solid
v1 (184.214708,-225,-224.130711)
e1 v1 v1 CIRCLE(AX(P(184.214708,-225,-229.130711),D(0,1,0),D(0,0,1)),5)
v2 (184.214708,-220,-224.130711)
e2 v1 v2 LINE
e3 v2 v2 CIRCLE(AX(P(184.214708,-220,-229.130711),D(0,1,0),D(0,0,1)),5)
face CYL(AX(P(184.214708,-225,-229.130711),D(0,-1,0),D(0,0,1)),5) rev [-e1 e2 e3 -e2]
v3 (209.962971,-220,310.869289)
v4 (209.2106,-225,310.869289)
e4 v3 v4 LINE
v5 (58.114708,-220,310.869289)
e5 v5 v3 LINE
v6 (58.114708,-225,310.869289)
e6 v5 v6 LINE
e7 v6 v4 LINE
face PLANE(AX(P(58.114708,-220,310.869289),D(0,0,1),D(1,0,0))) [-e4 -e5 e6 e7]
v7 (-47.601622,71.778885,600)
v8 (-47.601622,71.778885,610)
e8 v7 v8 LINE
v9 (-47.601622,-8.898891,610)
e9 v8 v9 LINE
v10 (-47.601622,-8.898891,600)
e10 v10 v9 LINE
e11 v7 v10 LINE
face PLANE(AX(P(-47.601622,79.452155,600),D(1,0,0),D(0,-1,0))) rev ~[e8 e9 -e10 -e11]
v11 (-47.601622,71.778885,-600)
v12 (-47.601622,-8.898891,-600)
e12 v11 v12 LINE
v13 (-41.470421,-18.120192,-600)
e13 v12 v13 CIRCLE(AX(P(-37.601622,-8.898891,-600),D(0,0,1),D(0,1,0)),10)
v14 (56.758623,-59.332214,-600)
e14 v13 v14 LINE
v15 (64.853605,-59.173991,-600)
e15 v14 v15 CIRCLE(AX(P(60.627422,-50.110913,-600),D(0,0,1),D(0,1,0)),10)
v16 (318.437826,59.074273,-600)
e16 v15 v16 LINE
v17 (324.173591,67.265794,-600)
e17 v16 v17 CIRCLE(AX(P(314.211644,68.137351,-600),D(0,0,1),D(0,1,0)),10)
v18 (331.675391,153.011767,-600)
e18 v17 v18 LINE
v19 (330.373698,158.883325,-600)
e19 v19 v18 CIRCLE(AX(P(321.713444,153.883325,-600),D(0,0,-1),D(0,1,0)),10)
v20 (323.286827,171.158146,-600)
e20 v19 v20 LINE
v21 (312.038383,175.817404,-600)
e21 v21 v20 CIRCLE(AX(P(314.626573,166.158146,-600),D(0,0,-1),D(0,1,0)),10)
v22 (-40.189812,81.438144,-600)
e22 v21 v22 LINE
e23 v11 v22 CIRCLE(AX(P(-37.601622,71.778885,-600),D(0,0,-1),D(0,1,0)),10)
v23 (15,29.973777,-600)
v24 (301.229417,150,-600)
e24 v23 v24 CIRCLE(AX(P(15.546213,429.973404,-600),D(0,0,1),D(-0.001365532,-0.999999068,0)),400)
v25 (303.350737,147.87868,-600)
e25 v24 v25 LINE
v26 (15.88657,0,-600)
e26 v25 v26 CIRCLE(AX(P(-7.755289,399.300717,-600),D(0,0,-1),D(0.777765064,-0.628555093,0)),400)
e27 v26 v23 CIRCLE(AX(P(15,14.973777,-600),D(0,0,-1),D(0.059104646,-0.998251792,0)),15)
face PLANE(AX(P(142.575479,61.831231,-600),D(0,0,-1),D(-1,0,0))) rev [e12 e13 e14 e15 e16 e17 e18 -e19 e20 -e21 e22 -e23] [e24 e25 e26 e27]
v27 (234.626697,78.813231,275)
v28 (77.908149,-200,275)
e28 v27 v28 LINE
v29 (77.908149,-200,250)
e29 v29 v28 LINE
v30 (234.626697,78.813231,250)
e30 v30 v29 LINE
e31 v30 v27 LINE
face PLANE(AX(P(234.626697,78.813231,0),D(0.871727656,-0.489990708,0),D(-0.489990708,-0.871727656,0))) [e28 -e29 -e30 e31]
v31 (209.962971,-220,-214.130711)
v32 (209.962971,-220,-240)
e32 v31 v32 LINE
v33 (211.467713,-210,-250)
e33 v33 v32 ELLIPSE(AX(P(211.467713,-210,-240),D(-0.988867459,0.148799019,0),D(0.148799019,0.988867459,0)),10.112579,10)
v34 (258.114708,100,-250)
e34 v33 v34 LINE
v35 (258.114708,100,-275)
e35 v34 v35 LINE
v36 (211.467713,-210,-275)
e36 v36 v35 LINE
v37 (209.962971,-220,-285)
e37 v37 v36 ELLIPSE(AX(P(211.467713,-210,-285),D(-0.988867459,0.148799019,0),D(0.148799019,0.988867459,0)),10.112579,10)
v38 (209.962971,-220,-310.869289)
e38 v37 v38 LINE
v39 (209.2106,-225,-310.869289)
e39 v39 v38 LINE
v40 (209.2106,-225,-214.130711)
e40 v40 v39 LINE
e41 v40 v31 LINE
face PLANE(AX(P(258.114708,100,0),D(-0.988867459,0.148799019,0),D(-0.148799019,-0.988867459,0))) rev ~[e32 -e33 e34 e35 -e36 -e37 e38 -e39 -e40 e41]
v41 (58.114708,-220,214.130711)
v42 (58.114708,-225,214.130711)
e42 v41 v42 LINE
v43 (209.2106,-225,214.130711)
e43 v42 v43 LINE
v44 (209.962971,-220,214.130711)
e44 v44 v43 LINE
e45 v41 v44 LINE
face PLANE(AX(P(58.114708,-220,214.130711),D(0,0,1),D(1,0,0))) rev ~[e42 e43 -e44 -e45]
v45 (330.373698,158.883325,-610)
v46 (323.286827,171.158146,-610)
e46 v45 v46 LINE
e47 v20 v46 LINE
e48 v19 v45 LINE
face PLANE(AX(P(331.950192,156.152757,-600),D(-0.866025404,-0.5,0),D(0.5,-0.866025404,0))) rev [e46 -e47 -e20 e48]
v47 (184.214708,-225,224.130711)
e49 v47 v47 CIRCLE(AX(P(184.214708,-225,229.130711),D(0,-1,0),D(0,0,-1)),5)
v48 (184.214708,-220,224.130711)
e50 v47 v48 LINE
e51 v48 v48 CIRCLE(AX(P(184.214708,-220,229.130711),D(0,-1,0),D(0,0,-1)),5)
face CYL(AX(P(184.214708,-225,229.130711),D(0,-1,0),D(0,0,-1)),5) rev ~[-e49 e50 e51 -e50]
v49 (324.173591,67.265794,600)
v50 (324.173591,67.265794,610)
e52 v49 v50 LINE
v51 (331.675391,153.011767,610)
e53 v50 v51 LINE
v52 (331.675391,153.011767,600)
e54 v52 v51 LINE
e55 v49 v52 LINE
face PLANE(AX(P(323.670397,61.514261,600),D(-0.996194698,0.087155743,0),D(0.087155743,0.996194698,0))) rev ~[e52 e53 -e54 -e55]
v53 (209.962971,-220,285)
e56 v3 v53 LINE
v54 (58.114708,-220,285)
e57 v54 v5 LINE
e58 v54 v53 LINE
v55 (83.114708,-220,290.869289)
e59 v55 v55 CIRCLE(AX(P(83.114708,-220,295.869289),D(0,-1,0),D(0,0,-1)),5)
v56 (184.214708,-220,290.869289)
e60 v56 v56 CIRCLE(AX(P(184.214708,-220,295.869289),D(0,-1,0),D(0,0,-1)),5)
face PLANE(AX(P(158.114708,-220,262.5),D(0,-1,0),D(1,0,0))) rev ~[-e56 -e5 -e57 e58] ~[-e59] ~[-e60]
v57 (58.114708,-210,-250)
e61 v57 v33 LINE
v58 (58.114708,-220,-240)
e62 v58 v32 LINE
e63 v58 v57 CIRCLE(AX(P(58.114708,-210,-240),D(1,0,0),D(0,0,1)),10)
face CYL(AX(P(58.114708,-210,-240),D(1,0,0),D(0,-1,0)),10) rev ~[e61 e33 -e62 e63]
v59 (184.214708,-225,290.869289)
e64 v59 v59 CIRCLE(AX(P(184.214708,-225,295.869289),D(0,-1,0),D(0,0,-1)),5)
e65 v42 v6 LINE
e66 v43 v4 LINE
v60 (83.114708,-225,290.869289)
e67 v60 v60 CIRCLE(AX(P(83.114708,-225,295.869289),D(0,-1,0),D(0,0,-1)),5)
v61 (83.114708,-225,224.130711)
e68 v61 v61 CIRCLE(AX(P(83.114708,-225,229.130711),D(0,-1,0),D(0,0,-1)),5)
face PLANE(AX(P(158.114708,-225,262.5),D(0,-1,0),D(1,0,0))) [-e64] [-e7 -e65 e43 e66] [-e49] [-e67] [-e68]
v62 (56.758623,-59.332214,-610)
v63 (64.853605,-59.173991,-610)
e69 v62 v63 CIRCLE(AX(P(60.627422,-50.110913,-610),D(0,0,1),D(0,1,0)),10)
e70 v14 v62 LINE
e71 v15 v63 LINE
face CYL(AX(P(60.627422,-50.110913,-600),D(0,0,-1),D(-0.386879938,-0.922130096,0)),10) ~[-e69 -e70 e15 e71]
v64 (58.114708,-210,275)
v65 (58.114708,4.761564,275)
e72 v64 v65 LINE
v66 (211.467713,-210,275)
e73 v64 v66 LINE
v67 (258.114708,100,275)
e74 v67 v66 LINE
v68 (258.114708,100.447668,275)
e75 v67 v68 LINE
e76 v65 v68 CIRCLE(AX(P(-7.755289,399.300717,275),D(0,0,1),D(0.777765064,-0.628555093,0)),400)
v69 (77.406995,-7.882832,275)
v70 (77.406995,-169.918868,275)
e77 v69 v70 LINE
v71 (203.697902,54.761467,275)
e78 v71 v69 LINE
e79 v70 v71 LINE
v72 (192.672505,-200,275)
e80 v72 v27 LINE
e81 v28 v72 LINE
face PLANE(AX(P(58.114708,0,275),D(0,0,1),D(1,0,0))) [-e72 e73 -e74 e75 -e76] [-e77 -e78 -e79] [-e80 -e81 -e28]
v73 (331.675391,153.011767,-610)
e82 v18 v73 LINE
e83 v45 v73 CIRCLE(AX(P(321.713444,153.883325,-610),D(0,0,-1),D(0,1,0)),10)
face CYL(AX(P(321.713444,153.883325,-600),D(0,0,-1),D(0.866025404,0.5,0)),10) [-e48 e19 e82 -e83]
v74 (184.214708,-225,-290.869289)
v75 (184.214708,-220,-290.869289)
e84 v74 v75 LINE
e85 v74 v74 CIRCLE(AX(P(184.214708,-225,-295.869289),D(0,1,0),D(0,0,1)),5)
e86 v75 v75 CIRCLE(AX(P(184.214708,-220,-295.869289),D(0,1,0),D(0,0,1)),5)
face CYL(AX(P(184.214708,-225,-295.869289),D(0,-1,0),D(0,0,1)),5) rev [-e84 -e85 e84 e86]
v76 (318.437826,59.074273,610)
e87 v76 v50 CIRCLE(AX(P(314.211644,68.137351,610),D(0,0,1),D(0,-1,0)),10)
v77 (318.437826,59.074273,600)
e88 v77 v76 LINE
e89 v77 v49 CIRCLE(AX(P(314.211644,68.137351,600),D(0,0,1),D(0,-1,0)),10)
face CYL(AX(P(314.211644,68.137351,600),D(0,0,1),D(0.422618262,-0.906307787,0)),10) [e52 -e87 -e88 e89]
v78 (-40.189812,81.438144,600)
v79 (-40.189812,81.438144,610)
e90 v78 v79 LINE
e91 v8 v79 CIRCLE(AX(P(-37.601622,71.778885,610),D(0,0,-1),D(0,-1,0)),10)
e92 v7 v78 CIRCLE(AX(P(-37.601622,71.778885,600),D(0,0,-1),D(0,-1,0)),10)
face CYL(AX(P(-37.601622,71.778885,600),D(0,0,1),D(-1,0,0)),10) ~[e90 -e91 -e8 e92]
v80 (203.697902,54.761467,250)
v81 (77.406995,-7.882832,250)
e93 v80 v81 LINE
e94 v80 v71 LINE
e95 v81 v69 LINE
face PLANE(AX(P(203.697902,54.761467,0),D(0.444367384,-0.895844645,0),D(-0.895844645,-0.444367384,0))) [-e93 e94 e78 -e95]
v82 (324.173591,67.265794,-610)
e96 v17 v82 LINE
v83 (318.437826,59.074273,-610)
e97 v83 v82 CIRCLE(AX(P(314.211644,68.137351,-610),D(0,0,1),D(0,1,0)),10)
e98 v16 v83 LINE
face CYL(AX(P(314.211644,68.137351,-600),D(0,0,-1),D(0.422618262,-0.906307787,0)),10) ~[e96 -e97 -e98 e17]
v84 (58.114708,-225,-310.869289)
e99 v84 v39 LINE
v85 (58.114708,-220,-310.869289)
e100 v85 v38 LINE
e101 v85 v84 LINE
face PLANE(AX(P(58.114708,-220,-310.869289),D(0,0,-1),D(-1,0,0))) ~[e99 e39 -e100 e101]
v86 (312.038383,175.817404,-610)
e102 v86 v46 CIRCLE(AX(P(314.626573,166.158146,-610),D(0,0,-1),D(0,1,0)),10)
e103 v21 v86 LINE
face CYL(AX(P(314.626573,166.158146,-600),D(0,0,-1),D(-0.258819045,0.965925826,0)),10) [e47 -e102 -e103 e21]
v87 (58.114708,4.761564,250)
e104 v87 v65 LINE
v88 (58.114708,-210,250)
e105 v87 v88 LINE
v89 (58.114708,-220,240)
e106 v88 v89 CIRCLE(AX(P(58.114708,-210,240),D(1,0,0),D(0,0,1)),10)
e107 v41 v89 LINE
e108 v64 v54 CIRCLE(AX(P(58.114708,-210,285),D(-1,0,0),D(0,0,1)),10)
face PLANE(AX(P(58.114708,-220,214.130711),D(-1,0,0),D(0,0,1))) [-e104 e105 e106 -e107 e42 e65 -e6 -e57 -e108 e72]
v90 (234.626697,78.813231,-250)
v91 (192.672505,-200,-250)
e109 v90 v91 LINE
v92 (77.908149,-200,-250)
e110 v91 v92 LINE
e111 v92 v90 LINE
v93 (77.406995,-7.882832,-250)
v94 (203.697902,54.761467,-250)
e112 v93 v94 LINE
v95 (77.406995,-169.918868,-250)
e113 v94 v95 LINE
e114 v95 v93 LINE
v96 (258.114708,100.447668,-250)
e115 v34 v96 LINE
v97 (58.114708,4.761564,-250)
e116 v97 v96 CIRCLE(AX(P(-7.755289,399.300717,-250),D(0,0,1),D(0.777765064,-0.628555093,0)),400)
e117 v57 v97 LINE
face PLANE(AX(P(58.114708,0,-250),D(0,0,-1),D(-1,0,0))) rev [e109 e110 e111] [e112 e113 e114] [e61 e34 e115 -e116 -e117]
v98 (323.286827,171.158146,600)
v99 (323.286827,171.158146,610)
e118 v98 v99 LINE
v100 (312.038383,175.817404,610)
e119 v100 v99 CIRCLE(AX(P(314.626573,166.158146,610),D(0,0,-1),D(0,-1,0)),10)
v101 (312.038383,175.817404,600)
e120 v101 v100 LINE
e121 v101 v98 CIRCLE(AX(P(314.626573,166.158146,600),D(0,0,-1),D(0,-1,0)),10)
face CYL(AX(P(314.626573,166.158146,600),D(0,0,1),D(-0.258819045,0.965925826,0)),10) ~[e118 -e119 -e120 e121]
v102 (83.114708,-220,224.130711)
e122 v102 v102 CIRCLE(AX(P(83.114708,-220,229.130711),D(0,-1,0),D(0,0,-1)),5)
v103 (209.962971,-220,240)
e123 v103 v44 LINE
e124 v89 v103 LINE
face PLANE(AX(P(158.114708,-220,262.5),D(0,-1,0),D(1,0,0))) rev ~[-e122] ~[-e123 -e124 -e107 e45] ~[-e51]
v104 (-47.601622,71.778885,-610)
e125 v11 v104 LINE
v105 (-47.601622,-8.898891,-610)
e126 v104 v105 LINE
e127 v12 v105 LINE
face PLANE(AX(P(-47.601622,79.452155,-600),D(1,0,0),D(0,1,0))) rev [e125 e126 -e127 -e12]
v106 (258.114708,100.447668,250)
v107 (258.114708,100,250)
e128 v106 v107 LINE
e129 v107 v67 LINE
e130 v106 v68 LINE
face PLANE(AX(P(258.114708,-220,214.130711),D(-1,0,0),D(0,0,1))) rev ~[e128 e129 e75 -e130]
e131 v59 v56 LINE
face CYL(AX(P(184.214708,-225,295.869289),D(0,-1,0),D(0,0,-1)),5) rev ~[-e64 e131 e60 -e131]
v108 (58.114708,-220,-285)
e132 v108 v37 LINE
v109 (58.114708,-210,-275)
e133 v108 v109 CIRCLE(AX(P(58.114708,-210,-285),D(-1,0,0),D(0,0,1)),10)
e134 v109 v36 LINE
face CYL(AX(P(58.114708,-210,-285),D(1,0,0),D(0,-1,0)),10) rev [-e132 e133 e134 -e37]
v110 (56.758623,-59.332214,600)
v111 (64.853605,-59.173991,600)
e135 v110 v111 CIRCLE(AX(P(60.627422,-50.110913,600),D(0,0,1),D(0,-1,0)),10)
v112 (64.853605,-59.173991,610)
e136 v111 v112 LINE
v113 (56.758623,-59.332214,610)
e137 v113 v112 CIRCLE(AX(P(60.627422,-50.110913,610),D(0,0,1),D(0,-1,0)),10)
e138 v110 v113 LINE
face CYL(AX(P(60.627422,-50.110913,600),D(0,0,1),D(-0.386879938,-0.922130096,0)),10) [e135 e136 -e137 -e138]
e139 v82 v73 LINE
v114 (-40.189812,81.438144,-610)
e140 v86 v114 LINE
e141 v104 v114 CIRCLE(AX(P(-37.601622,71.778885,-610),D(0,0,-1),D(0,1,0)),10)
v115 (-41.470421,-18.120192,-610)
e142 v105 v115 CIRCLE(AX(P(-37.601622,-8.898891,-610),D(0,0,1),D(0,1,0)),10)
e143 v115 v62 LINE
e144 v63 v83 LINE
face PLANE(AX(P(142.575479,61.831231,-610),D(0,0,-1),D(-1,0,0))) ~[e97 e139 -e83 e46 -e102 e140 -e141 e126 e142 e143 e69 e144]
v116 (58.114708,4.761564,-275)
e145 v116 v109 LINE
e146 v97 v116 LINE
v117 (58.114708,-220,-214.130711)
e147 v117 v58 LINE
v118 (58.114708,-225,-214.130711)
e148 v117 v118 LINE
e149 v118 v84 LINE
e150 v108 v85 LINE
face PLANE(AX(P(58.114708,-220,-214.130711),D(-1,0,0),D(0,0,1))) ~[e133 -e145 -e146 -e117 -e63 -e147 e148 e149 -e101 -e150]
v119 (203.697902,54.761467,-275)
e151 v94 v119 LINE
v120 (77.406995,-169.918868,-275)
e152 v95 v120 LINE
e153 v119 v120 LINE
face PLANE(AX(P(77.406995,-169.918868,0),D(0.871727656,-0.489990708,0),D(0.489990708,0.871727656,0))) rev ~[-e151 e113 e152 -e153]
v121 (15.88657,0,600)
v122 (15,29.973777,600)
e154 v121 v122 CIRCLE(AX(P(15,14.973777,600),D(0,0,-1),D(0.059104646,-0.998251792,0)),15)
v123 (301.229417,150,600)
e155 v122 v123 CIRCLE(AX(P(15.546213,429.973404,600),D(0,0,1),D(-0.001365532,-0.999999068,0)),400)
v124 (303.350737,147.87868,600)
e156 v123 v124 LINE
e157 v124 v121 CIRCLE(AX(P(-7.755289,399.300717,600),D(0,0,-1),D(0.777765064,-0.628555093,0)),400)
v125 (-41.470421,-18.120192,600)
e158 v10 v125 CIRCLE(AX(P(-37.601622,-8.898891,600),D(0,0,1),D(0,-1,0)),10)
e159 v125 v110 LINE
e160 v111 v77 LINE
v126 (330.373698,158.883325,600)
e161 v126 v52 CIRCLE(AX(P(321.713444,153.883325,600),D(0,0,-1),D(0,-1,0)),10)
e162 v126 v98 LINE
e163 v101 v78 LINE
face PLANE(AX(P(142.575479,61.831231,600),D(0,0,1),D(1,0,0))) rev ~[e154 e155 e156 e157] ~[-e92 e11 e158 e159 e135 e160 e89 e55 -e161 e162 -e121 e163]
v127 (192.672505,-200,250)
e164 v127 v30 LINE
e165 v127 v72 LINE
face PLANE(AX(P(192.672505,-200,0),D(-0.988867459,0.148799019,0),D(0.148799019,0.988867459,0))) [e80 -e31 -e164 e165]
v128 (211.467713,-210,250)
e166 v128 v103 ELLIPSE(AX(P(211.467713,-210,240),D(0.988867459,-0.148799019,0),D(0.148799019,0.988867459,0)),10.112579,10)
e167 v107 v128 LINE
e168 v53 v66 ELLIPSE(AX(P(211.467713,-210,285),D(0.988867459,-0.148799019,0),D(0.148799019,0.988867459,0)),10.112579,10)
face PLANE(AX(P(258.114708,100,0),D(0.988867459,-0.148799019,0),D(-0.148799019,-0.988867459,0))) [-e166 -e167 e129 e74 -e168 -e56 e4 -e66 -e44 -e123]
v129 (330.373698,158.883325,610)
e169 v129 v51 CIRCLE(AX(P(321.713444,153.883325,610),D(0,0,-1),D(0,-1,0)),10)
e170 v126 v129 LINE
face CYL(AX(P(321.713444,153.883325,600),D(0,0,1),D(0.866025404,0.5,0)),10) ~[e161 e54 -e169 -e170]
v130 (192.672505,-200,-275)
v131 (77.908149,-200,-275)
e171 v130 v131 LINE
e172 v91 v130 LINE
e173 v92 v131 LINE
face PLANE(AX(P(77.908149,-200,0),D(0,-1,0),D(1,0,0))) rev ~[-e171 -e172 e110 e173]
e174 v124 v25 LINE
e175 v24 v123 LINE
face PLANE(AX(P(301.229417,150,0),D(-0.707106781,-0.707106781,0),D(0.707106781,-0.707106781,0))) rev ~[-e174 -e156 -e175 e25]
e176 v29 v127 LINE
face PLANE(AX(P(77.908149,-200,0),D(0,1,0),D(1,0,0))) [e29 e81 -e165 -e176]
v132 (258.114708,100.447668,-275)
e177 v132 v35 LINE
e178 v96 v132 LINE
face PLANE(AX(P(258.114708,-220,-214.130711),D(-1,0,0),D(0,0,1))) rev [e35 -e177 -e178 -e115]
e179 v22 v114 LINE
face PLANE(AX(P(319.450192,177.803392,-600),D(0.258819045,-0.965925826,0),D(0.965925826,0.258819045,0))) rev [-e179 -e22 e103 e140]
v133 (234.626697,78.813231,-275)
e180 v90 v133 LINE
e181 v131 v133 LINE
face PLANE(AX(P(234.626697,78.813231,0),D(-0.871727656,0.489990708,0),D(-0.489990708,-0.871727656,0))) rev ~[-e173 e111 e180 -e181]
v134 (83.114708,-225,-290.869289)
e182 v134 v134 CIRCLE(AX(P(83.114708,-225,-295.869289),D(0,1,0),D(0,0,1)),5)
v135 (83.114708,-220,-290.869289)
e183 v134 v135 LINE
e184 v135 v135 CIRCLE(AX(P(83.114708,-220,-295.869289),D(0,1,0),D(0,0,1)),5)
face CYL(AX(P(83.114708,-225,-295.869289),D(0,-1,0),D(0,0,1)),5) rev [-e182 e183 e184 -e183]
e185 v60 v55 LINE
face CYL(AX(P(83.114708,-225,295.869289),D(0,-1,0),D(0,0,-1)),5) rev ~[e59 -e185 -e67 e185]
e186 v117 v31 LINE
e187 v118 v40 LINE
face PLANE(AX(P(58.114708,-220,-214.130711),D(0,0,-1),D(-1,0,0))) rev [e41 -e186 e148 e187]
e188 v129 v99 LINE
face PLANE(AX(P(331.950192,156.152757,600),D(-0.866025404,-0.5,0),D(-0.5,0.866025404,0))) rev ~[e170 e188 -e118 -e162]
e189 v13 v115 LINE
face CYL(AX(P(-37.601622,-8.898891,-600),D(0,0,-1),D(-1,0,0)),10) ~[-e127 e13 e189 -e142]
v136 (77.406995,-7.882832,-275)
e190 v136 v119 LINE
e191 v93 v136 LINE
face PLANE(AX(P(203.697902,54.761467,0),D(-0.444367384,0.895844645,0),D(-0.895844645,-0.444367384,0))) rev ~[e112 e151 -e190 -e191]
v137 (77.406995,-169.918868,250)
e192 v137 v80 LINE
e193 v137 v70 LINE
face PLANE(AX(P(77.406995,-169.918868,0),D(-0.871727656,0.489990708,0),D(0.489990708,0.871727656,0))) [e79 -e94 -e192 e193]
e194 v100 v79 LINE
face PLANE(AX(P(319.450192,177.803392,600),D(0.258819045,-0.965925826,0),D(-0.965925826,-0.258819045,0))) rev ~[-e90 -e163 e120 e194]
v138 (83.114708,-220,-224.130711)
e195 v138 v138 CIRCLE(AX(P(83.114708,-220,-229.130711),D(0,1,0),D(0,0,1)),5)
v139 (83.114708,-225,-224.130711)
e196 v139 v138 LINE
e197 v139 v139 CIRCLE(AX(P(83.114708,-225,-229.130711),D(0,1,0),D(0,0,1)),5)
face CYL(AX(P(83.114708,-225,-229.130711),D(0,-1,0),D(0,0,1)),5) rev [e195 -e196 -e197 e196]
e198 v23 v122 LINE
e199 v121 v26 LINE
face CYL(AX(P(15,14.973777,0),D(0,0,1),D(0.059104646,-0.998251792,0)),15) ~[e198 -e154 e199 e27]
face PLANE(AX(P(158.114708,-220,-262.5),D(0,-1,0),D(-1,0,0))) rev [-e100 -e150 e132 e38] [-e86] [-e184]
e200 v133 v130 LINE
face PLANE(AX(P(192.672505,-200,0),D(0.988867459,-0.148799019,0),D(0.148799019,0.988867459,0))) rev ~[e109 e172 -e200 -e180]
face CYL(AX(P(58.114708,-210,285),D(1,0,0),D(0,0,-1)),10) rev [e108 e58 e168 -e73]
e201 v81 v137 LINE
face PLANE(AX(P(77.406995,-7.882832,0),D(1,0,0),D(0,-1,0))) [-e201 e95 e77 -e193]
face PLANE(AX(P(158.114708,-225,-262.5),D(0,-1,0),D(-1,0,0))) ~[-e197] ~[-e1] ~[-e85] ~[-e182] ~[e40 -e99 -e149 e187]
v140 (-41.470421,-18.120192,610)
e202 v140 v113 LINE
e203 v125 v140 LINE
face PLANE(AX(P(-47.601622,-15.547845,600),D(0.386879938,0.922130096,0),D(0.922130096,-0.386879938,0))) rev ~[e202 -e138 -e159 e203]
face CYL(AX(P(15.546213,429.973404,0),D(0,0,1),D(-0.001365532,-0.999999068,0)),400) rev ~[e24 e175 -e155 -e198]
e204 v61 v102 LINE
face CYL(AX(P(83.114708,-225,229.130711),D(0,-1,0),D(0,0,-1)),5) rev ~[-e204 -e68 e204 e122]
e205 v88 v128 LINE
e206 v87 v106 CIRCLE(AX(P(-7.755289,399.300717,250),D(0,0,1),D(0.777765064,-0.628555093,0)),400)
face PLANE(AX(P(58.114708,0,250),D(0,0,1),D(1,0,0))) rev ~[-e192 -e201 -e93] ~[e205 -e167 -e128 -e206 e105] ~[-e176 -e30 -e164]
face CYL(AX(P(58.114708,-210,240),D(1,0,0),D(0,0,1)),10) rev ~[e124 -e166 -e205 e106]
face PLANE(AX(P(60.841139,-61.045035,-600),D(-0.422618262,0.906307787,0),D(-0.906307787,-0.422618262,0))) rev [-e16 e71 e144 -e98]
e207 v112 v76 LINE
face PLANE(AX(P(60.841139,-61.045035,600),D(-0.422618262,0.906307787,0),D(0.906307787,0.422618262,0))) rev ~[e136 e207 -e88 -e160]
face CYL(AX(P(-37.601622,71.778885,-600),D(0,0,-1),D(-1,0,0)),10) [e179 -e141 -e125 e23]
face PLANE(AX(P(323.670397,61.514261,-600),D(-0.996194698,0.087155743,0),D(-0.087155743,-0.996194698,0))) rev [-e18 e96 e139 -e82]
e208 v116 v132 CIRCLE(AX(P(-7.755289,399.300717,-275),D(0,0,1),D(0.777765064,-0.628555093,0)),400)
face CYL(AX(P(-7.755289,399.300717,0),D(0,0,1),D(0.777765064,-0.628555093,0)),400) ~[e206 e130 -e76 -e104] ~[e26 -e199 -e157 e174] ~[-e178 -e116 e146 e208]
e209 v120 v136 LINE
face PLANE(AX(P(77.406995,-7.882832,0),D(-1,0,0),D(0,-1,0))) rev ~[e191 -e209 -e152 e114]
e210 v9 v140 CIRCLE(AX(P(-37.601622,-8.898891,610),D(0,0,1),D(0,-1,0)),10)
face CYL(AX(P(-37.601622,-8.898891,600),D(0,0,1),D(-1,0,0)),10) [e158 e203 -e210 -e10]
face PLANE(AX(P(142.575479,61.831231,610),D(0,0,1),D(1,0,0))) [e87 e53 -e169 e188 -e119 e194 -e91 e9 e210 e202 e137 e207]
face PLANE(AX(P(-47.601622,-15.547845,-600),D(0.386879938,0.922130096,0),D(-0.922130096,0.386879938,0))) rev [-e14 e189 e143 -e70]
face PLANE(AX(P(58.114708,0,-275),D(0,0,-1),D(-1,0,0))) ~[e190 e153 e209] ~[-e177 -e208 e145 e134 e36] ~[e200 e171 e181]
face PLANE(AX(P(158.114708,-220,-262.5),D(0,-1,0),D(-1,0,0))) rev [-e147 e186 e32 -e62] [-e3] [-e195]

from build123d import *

# Parameters (mm, degrees)
BOSS_EXTRUDE1_DEPTH             = 600
BOSS_EXTRUDE2_DEPTH             = 10
FILLET1_R                       = 10
FILLET1_OF_MIRROR2_R            = 10
BOSS_EXTRUDE3_REACH             = 718.356
SKETCH3_W                       = 200
SKETCH3_H                       = 25
BOSS_EXTRUDE3_DIRECTION_2_DEPTH = 220
SKETCH4_W                       = 200
SKETCH4_H                       = 96.738577366
BOSS_EXTRUDE4_DEPTH             = 5
FILLET3_R                       = 10
SKETCH5_R                       = 5
CUT_EXTRUDE1_DEPTH              = 5
CUT_EXTRUDE3_REACH              = 731.903
CUT_EXTRUDE3_DIRECTION_2_REACH  = 731.903


with BuildPart() as part:
    # Sketch1 → Boss-Extrude1 (new, symmetric)
    with BuildSketch(Plane.XY):
        with BuildLine():
            Line((301.229416671, 150), (303.350737014, 147.878679656))
            ThreePointArc((303.350737014, 147.878679656), (175.223022732, 43.605710521), (15.886569686, 0))
            ThreePointArc((15.886569686, 0), (0.006557212, 14.530298176), (15, 29.973776885))
            ThreePointArc((15, 29.973776885), (170.230890365, 61.093138188), (301.229416671, 150))
        make_face()
    extrude(amount=BOSS_EXTRUDE1_DEPTH, both=True)

    # Sketch2 → Boss-Extrude2 (add)
    with BuildSketch(Plane.XY.offset(600)):
        Polygon((-47.601621627, 79.452155227), (-47.601621627, -15.547844773), (60.841138561, -61.045034952), (323.670396802, 61.514260953), (331.950192363, 156.152757271), (319.450192363, 177.803392366), align=None)
    boss_extrude2 = extrude(amount=BOSS_EXTRUDE2_DEPTH)

    # Fillet1
    fillet1_edges = [part.edges().sort_by_distance(p)[0] for p in [
        (319.450192363, 177.803392366, 605),
        (-47.601621627, 79.452155227, 605),
        (-47.601621627, -15.547844773, 605),
        (60.841138561, -61.045034952, 605),
        (323.670396802, 61.514260953, 605),
        (331.950192363, 156.152757271, 605),
    ]]
    fillet(fillet1_edges, radius=FILLET1_R)

    # Mirror2: Boss-Extrude2 across plane
    add(boss_extrude2.mirror(Plane.XY))

    # Fillet1 of Mirror2
    fillet1_of_mirror2_edges = [part.edges().sort_by_distance(p)[0] for p in [
        (319.450192363, 177.803392366, -605),
        (-47.601621627, 79.452155227, -605),
        (-47.601621627, -15.547844773, -605),
        (60.841138561, -61.045034952, -605),
        (323.670396802, 61.514260953, -605),
        (331.950192363, 156.152757271, -605),
    ]]
    fillet(fillet1_of_mirror2_edges, radius=FILLET1_OF_MIRROR2_R)

    # Sketch3 → Boss-Extrude3 (add, up to next)
    with BuildSketch(Plane(origin=(0, 0, 0), x_dir=(1, 0, 0), z_dir=(0, 1, 0)), mode=Mode.PRIVATE) as boss_extrude3_sk1:
        with Locations((158.114708335, -262.5)):
            Rectangle(SKETCH3_W, SKETCH3_H)
    boss_extrude3_tool1 = extrude(boss_extrude3_sk1.sketch, amount=BOSS_EXTRUDE3_REACH, mode=Mode.PRIVATE) - part.part
    boss_extrude3 = boss_extrude3_tool1.solids().sort_by_distance((158.114708, 0, 262.5))[0]
    add(boss_extrude3)

    # Sketch3 → Boss-Extrude3 direction 2 (add)
    with BuildSketch(Plane(origin=(0, 0, 0), x_dir=(1, 0, 0), z_dir=(0, 1, 0))):
        with Locations((158.114708335, -262.5)):
            Rectangle(SKETCH3_W, SKETCH3_H)
    boss_extrude3_direction_2 = extrude(amount=-BOSS_EXTRUDE3_DIRECTION_2_DEPTH)

    # Mirror3: Boss-Extrude3, Boss-Extrude3 direction 2 across plane
    add(boss_extrude3.mirror(Plane.XY))
    add(boss_extrude3_direction_2.mirror(Plane.XY))

    # Sketch4 → Boss-Extrude4 (add)
    with BuildSketch(Plane.XZ.offset(220)):
        with Locations((158.114708335, 262.5)):
            Rectangle(SKETCH4_W, SKETCH4_H)
    boss_extrude4 = extrude(amount=BOSS_EXTRUDE4_DEPTH)

    # Mirror6: Boss-Extrude4 across plane
    add(boss_extrude4.mirror(Plane.XY))

    # Fillet3
    fillet3_edges = [part.edges().sort_by_distance(p)[0] for p in [
        (158.114708335, -220, 275),
        (158.114708335, -220, 250),
        (158.114708335, -220, -250),
        (158.114708335, -220, -275),
    ]]
    fillet(fillet3_edges, radius=FILLET3_R)

    # Sketch5 → Cut-Extrude1 (cut)
    with BuildSketch(Plane.XZ.offset(225)):
        with Locations(Location((83.114708335, 295.869288683, 0), (0, 0, 270))):
            Circle(SKETCH5_R)
        with Locations(Location((184.214708335, 295.869288683, 0), (0, 0, 270))):
            Circle(SKETCH5_R)
        with Locations(Location((184.214708335, 229.130711317, 0), (0, 0, 270))):
            Circle(SKETCH5_R)
        with Locations(Location((83.114708335, 229.130711317, 0), (0, 0, 270))):
            Circle(SKETCH5_R)
    cut_extrude1 = extrude(amount=-CUT_EXTRUDE1_DEPTH, mode=Mode.SUBTRACT)

    # Mirror7: Cut-Extrude1 across plane
    add(cut_extrude1.mirror(Plane.XY), mode=Mode.SUBTRACT)

    # Sketch8 → Cut-Extrude3 (cut, up to next)
    with BuildSketch(Plane.XY, mode=Mode.PRIVATE) as cut_extrude3_sk1:
        Polygon((258.114708335, 100), (209.210600029, -225), (258.114708335, -225), align=None)
    cut_extrude3_tool1 = extrude(cut_extrude3_sk1.sketch, amount=-CUT_EXTRUDE3_REACH, mode=Mode.PRIVATE) & part.part
    # Sketch8 → Cut-Extrude3 (cut, up to next)
    with BuildSketch(Plane.XY, mode=Mode.PRIVATE) as cut_extrude3_sk2:
        Polygon((192.672505063, -200), (234.626697196, 78.813230948), (77.908149081, -200), align=None)
    cut_extrude3_tool2 = extrude(cut_extrude3_sk2.sketch, amount=-CUT_EXTRUDE3_REACH, mode=Mode.PRIVATE) & part.part
    # Sketch8 → Cut-Extrude3 (cut, up to next)
    with BuildSketch(Plane.XY, mode=Mode.PRIVATE) as cut_extrude3_sk3:
        Polygon((77.406994689, -169.918867637), (203.697901707, 54.761466943), (77.406994689, -7.882832173), align=None)
    cut_extrude3_tool3 = extrude(cut_extrude3_sk3.sketch, amount=-CUT_EXTRUDE3_REACH, mode=Mode.PRIVATE) & part.part
    add(cut_extrude3_tool1.solids().sort_by_distance((241.813339, -116.666667, 0))[0], mode=Mode.SUBTRACT)
    add(cut_extrude3_tool2.solids().sort_by_distance((168.40245, -107.062256, 0))[0], mode=Mode.SUBTRACT)
    add(cut_extrude3_tool3.solids().sort_by_distance((119.503964, -41.013411, 0))[0], mode=Mode.SUBTRACT)

    # Sketch8 → Cut-Extrude3 direction 2 (cut, up to next)
    with BuildSketch(Plane.XY, mode=Mode.PRIVATE) as cut_extrude3_direction_2_sk1:
        Polygon((258.114708335, 100), (209.210600029, -225), (258.114708335, -225), align=None)
    cut_extrude3_direction_2_tool1 = extrude(cut_extrude3_direction_2_sk1.sketch, amount=CUT_EXTRUDE3_DIRECTION_2_REACH, mode=Mode.PRIVATE) & part.part
    # Sketch8 → Cut-Extrude3 direction 2 (cut, up to next)
    with BuildSketch(Plane.XY, mode=Mode.PRIVATE) as cut_extrude3_direction_2_sk2:
        Polygon((192.672505063, -200), (234.626697196, 78.813230948), (77.908149081, -200), align=None)
    cut_extrude3_direction_2_tool2 = extrude(cut_extrude3_direction_2_sk2.sketch, amount=CUT_EXTRUDE3_DIRECTION_2_REACH, mode=Mode.PRIVATE) & part.part
    # Sketch8 → Cut-Extrude3 direction 2 (cut, up to next)
    with BuildSketch(Plane.XY, mode=Mode.PRIVATE) as cut_extrude3_direction_2_sk3:
        Polygon((77.406994689, -169.918867637), (203.697901707, 54.761466943), (77.406994689, -7.882832173), align=None)
    cut_extrude3_direction_2_tool3 = extrude(cut_extrude3_direction_2_sk3.sketch, amount=CUT_EXTRUDE3_DIRECTION_2_REACH, mode=Mode.PRIVATE) & part.part
    add(cut_extrude3_direction_2_tool1.solids().sort_by_distance((241.813339, -116.666667, 0))[0], mode=Mode.SUBTRACT)
    add(cut_extrude3_direction_2_tool2.solids().sort_by_distance((168.40245, -107.062256, 0))[0], mode=Mode.SUBTRACT)
    add(cut_extrude3_direction_2_tool3.solids().sort_by_distance((119.503964, -41.013411, 0))[0], mode=Mode.SUBTRACT)


solid = part.part
